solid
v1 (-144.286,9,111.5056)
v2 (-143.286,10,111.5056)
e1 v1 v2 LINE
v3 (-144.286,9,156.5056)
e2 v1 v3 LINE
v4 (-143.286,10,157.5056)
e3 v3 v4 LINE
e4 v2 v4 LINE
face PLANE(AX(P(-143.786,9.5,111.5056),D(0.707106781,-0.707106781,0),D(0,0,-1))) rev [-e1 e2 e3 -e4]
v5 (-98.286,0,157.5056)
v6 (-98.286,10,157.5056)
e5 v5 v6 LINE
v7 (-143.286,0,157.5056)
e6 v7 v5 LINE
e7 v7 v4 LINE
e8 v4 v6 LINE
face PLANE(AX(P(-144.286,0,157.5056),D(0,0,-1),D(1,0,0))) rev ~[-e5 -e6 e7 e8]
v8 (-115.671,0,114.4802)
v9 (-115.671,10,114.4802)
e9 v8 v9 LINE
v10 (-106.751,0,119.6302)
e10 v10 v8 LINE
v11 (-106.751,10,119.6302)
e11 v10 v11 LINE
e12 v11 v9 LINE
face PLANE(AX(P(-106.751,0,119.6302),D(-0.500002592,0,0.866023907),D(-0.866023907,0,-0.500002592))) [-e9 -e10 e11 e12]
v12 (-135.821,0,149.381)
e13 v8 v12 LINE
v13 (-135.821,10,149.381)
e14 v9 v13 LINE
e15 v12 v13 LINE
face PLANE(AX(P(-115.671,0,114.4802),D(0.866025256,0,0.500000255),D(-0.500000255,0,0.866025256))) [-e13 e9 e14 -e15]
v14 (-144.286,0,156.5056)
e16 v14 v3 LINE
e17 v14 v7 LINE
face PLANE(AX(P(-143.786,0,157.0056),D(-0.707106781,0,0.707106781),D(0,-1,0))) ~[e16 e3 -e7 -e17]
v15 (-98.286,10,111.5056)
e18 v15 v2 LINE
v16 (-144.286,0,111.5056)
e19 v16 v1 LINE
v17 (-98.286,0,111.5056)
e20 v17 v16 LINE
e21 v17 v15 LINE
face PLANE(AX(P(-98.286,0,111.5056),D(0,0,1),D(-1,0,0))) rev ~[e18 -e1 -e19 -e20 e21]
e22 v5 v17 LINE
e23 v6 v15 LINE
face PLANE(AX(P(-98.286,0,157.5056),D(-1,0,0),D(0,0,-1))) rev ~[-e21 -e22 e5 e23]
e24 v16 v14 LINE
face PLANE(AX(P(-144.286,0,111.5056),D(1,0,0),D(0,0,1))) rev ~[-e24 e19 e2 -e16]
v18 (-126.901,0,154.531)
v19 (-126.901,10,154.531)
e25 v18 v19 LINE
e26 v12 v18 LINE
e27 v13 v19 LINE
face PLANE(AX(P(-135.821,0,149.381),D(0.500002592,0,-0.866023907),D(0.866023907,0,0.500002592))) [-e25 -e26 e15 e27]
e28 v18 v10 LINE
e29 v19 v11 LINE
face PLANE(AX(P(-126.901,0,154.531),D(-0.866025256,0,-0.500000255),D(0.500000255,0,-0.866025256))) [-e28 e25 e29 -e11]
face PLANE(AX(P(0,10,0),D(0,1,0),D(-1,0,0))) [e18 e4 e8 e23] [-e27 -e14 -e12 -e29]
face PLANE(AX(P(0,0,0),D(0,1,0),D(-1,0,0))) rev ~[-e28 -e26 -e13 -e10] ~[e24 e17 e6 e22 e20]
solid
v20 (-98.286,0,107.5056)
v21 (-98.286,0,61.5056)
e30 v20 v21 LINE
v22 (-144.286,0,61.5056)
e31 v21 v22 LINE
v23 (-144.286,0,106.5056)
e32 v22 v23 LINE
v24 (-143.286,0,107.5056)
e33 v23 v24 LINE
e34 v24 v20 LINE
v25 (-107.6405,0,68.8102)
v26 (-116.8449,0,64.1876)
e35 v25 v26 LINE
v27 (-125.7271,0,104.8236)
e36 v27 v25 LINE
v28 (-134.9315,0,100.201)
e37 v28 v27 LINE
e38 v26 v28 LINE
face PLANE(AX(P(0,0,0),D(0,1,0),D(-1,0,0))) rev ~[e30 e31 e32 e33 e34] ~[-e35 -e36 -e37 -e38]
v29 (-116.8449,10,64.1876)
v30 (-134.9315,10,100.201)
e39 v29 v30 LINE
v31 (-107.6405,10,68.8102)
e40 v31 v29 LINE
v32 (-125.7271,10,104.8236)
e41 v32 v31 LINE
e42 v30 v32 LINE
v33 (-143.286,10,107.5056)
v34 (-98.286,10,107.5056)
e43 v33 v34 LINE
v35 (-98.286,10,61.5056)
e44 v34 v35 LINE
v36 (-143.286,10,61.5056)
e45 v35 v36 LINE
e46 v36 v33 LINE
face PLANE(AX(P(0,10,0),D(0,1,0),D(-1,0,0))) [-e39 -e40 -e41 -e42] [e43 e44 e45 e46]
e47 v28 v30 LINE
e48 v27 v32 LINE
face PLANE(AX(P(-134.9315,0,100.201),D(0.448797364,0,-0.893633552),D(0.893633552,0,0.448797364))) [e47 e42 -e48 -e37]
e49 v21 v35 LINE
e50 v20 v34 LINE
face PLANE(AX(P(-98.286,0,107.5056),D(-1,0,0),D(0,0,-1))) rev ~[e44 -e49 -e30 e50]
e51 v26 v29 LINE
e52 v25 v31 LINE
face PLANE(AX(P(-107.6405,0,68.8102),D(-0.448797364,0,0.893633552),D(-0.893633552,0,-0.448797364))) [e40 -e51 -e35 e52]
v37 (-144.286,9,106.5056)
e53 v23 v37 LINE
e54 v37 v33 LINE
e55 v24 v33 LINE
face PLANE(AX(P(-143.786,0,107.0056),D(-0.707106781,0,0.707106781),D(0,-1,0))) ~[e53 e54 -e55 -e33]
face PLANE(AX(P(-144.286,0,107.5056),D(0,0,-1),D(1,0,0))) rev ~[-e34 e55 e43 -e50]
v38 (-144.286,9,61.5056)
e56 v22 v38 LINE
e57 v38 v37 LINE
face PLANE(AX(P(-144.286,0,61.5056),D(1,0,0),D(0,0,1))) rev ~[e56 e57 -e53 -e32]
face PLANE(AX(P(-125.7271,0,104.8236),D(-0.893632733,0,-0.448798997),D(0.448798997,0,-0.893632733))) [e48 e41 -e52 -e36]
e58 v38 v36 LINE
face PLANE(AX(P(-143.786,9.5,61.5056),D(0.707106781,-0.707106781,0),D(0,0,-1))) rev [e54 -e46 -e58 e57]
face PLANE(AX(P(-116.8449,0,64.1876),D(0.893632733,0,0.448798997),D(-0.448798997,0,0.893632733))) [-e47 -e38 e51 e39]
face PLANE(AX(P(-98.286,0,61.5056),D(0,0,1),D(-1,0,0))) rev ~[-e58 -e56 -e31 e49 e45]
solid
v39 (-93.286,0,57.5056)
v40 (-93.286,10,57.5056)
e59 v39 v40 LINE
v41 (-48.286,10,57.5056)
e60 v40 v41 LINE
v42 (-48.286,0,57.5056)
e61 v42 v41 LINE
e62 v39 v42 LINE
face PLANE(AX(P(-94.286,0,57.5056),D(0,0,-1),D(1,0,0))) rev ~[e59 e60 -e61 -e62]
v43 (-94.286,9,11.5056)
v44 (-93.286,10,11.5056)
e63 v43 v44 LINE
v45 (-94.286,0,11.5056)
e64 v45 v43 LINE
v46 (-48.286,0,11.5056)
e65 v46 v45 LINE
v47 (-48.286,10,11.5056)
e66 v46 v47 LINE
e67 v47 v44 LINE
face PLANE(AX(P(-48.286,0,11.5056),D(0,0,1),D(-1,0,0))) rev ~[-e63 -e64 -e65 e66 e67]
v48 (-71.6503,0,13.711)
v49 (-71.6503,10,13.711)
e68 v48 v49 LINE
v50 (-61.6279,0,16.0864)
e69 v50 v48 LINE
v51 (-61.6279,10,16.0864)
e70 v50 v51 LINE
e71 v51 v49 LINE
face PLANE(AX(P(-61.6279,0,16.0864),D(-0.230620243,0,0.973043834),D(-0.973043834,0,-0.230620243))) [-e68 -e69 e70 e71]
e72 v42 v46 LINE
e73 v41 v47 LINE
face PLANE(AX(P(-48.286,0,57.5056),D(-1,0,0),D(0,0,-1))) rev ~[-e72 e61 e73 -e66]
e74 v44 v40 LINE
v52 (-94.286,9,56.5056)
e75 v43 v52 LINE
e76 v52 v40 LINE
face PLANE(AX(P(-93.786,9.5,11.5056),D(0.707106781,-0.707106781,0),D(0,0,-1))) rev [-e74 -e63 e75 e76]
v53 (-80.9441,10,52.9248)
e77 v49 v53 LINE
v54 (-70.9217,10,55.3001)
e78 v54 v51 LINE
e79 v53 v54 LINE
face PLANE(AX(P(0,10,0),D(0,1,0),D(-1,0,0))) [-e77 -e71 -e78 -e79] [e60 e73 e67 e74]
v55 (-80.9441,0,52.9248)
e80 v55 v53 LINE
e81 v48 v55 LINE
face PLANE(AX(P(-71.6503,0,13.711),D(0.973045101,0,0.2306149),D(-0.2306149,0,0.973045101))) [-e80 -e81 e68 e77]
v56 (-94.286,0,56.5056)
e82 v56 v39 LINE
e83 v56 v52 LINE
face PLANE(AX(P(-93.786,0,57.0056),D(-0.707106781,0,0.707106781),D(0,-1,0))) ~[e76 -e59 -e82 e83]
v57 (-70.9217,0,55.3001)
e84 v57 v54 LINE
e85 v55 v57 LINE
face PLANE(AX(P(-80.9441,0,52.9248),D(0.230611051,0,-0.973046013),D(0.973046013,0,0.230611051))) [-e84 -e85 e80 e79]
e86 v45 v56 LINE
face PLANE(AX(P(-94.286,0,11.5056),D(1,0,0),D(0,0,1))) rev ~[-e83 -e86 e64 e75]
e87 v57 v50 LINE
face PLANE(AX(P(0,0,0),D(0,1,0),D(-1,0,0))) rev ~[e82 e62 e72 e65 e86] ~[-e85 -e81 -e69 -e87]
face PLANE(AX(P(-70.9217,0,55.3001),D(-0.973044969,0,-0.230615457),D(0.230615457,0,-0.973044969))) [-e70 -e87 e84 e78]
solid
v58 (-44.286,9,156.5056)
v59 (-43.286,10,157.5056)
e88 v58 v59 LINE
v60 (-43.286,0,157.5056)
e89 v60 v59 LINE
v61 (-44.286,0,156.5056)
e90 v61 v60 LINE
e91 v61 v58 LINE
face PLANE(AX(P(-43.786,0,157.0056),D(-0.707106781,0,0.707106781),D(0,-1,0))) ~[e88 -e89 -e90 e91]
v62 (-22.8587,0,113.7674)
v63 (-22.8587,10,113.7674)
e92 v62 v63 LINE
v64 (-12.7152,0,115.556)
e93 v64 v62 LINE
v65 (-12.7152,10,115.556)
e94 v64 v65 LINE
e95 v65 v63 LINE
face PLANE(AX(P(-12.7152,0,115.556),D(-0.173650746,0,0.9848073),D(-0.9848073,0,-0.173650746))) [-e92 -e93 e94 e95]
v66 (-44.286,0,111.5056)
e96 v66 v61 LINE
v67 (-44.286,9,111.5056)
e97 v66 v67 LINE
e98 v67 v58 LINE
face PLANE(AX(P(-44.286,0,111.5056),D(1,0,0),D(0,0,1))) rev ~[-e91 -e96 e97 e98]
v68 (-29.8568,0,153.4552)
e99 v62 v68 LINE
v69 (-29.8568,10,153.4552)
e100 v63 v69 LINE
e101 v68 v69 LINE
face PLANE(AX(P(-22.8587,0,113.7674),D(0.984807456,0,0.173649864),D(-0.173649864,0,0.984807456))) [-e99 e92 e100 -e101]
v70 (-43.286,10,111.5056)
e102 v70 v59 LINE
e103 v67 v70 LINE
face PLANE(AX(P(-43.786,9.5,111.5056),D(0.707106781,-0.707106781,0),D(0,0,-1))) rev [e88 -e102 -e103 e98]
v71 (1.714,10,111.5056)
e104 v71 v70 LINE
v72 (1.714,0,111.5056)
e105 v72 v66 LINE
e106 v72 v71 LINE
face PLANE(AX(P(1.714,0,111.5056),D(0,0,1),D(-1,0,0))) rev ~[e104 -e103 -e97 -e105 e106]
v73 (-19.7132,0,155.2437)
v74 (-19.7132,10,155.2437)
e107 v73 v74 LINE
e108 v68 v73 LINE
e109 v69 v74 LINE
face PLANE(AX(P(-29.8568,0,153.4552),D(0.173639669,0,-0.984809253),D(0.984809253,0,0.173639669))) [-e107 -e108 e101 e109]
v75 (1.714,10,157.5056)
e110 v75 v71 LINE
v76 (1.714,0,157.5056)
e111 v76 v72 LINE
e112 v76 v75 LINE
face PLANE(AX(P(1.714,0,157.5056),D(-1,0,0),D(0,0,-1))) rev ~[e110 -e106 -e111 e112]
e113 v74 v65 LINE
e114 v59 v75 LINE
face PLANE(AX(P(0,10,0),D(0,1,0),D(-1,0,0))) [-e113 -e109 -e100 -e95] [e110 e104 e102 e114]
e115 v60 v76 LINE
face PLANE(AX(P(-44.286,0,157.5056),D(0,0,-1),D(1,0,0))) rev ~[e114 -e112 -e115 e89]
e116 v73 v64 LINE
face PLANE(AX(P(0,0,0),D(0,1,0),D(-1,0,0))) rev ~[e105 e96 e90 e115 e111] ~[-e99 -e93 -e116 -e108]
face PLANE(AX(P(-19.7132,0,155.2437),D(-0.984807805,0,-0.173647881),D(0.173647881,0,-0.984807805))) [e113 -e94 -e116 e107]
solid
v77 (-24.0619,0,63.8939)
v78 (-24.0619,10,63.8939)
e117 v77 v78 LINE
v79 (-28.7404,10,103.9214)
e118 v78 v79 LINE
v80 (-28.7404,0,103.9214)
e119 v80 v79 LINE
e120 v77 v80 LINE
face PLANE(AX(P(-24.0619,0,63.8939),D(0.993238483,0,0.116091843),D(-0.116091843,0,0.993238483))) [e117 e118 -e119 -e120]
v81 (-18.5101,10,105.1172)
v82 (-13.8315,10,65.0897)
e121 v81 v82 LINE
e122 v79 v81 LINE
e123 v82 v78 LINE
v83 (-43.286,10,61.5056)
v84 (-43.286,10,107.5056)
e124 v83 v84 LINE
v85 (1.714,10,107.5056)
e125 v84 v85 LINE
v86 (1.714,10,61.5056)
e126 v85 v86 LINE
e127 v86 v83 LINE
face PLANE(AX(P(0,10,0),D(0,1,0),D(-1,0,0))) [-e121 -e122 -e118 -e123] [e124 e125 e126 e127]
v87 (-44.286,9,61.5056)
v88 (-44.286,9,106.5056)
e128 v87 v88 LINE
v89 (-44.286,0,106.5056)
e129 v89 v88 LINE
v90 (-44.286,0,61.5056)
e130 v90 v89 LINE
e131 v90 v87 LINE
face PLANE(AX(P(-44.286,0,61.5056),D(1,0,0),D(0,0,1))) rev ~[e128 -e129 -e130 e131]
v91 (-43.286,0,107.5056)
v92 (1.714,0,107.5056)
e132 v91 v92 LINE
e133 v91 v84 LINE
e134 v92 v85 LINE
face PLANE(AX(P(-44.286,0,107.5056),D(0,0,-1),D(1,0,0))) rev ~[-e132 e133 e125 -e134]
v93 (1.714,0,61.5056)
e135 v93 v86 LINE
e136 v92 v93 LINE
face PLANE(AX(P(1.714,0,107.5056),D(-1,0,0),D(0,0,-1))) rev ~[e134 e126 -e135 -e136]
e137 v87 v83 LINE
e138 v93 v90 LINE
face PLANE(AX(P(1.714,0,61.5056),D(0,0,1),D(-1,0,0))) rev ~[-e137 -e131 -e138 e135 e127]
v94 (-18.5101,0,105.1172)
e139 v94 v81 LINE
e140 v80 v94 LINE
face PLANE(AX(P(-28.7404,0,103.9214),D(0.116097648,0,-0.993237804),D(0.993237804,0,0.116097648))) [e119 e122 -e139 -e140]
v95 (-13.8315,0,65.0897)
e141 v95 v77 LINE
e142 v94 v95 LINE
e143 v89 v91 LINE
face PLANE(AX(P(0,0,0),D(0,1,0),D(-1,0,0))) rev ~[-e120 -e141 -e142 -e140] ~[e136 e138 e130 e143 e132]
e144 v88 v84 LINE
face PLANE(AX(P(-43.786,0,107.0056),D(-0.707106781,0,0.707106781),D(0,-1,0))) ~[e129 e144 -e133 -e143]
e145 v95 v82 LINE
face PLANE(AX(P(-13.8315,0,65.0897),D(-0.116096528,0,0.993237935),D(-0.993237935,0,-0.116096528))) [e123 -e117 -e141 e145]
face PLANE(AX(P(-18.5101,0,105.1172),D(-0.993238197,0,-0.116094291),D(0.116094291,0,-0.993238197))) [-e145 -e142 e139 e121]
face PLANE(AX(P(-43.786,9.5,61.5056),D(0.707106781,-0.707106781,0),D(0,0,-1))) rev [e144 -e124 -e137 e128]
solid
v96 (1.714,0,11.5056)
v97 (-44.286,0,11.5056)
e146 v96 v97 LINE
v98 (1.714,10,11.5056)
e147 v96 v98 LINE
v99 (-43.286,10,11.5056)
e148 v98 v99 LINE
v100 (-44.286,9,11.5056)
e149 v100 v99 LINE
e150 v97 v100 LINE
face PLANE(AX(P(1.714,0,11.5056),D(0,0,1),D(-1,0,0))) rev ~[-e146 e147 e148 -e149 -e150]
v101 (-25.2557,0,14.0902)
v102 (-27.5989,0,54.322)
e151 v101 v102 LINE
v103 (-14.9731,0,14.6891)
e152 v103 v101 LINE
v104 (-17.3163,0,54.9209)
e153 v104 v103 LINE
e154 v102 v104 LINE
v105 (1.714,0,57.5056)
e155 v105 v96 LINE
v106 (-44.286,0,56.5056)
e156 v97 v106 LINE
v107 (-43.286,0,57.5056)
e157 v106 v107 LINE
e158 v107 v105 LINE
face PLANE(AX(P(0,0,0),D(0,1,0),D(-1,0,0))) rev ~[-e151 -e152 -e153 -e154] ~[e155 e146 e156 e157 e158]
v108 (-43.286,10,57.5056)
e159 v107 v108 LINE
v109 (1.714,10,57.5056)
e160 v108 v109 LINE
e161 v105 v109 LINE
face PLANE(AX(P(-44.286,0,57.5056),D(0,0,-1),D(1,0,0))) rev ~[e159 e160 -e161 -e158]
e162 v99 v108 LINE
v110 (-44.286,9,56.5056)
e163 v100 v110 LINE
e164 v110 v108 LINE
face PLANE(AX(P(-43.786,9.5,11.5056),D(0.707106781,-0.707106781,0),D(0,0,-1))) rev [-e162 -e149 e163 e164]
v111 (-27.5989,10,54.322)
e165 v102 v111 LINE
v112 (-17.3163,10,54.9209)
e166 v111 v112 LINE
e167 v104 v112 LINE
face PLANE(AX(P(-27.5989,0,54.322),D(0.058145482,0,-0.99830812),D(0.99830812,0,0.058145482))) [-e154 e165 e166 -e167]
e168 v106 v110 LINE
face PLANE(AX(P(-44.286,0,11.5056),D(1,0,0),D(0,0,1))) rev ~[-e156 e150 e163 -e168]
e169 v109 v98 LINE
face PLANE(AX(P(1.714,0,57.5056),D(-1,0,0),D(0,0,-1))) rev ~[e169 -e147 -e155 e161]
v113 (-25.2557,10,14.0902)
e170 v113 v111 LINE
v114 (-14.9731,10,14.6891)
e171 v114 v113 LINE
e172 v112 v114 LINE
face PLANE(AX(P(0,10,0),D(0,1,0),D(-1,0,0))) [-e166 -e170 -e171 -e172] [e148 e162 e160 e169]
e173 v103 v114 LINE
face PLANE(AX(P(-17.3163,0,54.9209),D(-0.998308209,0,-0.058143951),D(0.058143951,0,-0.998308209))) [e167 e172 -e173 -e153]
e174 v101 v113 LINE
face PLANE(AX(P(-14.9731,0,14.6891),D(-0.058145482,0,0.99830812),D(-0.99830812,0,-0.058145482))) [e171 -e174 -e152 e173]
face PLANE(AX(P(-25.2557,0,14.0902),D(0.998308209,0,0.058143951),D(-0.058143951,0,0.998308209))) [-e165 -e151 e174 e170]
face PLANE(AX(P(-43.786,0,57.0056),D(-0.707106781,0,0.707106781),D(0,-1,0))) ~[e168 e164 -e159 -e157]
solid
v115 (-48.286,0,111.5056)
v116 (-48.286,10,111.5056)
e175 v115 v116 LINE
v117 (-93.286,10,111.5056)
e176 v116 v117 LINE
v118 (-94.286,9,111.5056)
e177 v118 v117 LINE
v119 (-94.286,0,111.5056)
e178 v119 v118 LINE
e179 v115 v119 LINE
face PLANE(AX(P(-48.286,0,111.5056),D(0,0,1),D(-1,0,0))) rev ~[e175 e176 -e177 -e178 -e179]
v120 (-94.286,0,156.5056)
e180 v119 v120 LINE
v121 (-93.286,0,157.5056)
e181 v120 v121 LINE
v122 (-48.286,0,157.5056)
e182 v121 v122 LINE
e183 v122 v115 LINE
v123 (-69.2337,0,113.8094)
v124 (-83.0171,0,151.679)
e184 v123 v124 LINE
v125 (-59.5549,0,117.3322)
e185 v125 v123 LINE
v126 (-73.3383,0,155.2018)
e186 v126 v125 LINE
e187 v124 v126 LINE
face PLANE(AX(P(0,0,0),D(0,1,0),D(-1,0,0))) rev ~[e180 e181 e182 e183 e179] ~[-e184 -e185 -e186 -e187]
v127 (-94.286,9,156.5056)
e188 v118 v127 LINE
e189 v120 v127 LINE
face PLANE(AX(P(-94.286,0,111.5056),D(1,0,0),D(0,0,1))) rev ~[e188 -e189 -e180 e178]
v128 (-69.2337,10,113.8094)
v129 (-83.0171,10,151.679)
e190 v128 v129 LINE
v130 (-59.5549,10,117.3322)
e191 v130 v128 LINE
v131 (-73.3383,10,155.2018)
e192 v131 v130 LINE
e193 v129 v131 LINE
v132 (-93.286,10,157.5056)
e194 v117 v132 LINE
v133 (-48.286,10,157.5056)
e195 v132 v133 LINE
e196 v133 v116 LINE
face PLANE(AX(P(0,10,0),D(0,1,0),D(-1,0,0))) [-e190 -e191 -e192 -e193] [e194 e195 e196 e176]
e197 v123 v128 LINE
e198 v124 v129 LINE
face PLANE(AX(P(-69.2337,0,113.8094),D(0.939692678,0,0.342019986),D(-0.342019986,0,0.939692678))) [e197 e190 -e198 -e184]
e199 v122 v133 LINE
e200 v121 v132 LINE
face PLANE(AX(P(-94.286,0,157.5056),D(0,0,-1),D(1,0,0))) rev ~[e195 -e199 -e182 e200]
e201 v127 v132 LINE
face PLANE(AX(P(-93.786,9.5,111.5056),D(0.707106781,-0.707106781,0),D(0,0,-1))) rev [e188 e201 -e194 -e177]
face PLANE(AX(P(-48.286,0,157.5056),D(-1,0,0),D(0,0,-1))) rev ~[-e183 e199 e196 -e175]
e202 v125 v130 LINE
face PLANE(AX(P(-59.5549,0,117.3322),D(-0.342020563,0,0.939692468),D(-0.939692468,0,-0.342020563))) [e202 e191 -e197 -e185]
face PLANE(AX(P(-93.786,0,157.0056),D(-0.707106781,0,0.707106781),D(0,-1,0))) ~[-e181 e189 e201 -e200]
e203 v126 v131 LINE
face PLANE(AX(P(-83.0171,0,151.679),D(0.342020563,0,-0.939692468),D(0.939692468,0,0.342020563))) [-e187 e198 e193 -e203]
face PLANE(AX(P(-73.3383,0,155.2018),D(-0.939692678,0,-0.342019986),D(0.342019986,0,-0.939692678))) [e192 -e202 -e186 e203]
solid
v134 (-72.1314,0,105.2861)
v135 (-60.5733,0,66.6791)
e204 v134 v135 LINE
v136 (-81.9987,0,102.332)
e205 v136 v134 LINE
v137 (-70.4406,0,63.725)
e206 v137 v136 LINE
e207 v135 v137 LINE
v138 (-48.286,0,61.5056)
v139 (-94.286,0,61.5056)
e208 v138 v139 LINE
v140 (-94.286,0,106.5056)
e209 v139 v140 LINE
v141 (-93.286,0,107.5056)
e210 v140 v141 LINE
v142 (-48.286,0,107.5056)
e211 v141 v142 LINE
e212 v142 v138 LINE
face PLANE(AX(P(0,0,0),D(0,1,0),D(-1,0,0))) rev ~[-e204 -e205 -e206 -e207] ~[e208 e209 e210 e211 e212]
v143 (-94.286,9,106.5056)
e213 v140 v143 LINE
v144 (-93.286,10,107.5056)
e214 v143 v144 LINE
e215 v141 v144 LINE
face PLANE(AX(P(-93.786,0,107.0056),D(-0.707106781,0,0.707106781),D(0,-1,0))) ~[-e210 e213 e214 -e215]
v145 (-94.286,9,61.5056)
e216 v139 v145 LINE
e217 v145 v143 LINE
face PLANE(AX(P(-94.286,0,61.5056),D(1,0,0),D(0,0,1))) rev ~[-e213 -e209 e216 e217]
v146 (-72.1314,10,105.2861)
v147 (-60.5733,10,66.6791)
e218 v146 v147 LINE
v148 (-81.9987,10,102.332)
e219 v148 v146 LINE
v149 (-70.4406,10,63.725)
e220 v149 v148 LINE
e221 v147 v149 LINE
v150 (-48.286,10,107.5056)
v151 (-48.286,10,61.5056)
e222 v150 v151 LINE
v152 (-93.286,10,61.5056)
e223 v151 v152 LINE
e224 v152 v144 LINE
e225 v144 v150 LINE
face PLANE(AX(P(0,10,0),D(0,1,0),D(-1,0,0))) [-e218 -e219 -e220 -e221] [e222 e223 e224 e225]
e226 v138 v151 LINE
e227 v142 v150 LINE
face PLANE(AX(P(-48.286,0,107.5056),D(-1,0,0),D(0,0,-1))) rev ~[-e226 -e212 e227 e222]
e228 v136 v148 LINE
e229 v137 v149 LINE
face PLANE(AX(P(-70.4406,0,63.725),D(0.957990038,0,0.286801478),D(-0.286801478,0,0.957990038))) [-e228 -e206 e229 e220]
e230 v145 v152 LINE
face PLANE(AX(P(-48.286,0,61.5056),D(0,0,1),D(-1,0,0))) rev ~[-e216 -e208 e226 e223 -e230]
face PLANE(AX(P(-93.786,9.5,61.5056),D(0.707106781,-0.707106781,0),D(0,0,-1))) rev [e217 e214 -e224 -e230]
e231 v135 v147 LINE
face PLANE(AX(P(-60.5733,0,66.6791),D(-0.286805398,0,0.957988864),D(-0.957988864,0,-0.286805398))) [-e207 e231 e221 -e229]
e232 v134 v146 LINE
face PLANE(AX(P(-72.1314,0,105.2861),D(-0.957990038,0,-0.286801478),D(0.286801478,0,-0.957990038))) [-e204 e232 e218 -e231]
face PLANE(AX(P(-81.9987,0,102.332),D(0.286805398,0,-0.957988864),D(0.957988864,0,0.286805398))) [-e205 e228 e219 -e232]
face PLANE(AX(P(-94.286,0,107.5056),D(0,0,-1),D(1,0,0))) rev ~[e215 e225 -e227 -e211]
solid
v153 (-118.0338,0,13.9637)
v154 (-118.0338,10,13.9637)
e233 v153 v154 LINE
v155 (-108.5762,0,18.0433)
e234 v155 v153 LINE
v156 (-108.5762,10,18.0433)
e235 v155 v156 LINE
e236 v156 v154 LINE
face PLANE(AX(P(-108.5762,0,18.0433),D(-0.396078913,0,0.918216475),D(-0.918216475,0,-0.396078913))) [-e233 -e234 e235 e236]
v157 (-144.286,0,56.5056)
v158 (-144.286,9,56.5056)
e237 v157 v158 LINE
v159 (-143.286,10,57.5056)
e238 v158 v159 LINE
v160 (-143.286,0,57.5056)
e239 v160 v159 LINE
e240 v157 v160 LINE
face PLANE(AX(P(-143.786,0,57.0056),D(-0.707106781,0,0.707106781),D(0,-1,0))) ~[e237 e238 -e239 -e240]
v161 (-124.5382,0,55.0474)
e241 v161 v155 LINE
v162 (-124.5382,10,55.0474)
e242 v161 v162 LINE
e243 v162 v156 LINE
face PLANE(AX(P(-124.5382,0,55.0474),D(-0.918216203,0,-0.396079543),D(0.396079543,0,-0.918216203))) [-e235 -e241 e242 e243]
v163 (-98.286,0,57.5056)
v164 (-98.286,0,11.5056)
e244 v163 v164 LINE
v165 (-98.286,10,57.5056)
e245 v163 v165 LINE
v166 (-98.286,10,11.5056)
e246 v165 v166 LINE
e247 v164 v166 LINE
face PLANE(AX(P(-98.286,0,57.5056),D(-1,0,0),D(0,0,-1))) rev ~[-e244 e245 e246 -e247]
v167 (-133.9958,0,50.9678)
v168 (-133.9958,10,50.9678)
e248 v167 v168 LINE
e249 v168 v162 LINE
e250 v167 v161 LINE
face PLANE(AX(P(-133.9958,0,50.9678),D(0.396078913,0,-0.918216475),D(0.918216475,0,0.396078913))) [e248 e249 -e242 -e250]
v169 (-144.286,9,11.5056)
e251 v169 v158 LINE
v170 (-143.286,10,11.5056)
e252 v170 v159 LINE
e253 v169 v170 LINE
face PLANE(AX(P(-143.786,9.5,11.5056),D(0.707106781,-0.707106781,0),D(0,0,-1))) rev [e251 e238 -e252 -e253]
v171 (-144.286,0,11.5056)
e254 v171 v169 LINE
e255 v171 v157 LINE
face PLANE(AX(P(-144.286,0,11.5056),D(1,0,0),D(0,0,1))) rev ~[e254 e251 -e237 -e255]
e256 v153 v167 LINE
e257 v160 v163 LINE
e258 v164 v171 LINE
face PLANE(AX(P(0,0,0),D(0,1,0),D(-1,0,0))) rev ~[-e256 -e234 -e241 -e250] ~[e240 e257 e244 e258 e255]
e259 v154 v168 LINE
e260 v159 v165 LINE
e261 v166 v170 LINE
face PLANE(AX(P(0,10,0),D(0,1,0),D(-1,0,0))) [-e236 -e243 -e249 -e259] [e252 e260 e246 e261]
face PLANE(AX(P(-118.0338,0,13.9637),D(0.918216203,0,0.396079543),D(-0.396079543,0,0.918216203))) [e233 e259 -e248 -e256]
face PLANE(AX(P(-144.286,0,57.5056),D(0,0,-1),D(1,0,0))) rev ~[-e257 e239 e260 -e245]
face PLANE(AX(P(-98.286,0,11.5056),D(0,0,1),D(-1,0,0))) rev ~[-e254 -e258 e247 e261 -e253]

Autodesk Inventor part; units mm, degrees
ref_plane "YZ Plane" through (0, 0, 0) normal (1, 0, 0) x (0, 1, 0)
ref_plane "XZ Plane" through (0, 0, 0) normal (0, 1, 0) x (-1, 0, 0)
ref_plane "XY Plane" through (0, 0, 0) normal (0, 0, 1) x (1, 0, 0)
sketch "Sketch1" plane through (0, 0, 0) normal (0, 1, 0) x (-1, 0, 0)
  line L0 (44.286, 57.5056) -> (-1.714, 57.5056)
  line L1 (-1.714, 57.5056) -> (-1.714, 11.5056)
  line L2 (-1.714, 11.5056) -> (44.286, 11.5056)
  line L3 (44.286, 11.5056) -> (44.286, 57.5056)
  line L4 (21.286, 57.5056) -> (21.286, 11.5056) construction
  line L5 (44.286, 34.5056) -> (-1.714, 34.5056) construction
  line L6 (22.4284, 54.1191) -> (21.286, 34.5056) construction
  line L7 (21.286, 34.5056) -> (11.1489, 35.096) construction
  line L8 (27.5989, 54.322) -> (17.3163, 54.9209)
  line L9 (17.3163, 54.9209) -> (14.9731, 14.6891)
  line L10 (14.9731, 14.6891) -> (25.2557, 14.0902)
  line L11 (25.2557, 14.0902) -> (27.5989, 54.322)
  line L12 (94.286, 57.5056) -> (48.286, 57.5056)
  line L13 (48.286, 57.5056) -> (48.286, 11.5056)
  line L14 (48.286, 11.5056) -> (94.286, 11.5056)
  line L15 (94.286, 11.5056) -> (94.286, 57.5056)
  line L16 (71.286, 57.5056) -> (71.286, 11.5056) construction
  line L17 (94.286, 34.5056) -> (48.286, 34.5056) construction
  line L18 (75.8169, 53.6228) -> (71.286, 34.5056) construction
  line L19 (71.286, 34.5056) -> (61.4055, 36.8473) construction
  line L20 (80.9441, 52.9248) -> (70.9217, 55.3001)
  line L21 (70.9217, 55.3001) -> (61.6279, 16.0864)
  line L22 (61.6279, 16.0864) -> (71.6503, 13.711)
  line L23 (71.6503, 13.711) -> (80.9441, 52.9248)
  line L24 (144.286, 57.5056) -> (98.286, 57.5056)
  line L25 (98.286, 57.5056) -> (98.286, 11.5056)
  line L26 (98.286, 11.5056) -> (144.286, 11.5056)
  line L27 (144.286, 11.5056) -> (144.286, 57.5056)
  line L28 (121.286, 57.5056) -> (121.286, 11.5056) construction
  line L29 (144.286, 34.5056) -> (98.286, 34.5056) construction
  line L30 (129.0677, 52.5456) -> (121.286, 34.5056) construction
  line L31 (121.286, 34.5056) -> (111.9622, 38.5275) construction
  line L32 (133.9958, 50.9678) -> (124.5382, 55.0474)
  line L33 (124.5382, 55.0474) -> (108.5762, 18.0433)
  line L34 (108.5762, 18.0433) -> (118.0338, 13.9637)
  line L35 (118.0338, 13.9637) -> (133.9958, 50.9678)
  line L36 (44.286, 107.5056) -> (-1.714, 107.5056)
  line L37 (-1.714, 107.5056) -> (-1.714, 61.5056)
  line L38 (-1.714, 61.5056) -> (44.286, 61.5056)
  line L39 (44.286, 61.5056) -> (44.286, 107.5056)
  line L40 (21.286, 107.5056) -> (21.286, 61.5056) construction
  line L41 (44.286, 84.5056) -> (-1.714, 84.5056) construction
  line L42 (23.5669, 104.0195) -> (21.286, 84.5056) construction
  line L43 (21.286, 84.5056) -> (11.2004, 85.6844) construction
  line L44 (28.7404, 103.9214) -> (18.5101, 105.1172)
  line L45 (18.5101, 105.1172) -> (13.8315, 65.0897)
  line L46 (13.8315, 65.0897) -> (24.0619, 63.8939)
  line L47 (24.0619, 63.8939) -> (28.7404, 103.9214)
  line L48 (44.286, 157.5056) -> (-1.714, 157.5056)
  line L49 (-1.714, 157.5056) -> (-1.714, 111.5056)
  line L50 (-1.714, 111.5056) -> (44.286, 111.5056)
  line L51 (44.286, 111.5056) -> (44.286, 157.5056)
  line L52 (21.286, 157.5056) -> (21.286, 111.5056) construction
  line L53 (44.286, 134.5056) -> (-1.714, 134.5056) construction
  line L54 (24.6976, 153.8539) -> (21.286, 134.5056) construction
  line L55 (21.286, 134.5056) -> (11.286, 136.2688) construction
  line L56 (29.8568, 153.4552) -> (19.7132, 155.2437)
  line L57 (19.7132, 155.2437) -> (12.7152, 115.556)
  line L58 (12.7152, 115.556) -> (22.8587, 113.7674)
  line L59 (22.8587, 113.7674) -> (29.8568, 153.4552)
  line L60 (94.286, 107.5056) -> (48.286, 107.5056)
  line L61 (48.286, 107.5056) -> (48.286, 61.5056)
  line L62 (48.286, 61.5056) -> (94.286, 61.5056)
  line L63 (94.286, 61.5056) -> (94.286, 107.5056)
  line L64 (71.286, 107.5056) -> (71.286, 61.5056) construction
  line L65 (94.286, 84.5056) -> (48.286, 84.5056) construction
  line L66 (76.9208, 103.327) -> (71.286, 84.5056) construction
  line L67 (71.286, 84.5056) -> (61.5583, 87.4178) construction
  line L68 (81.9987, 102.332) -> (72.1314, 105.2861)
  line L69 (72.1314, 105.2861) -> (60.5733, 66.6791)
  line L70 (60.5733, 66.6791) -> (70.4406, 63.725)
  line L71 (70.4406, 63.725) -> (81.9987, 102.332)
  line L72 (94.286, 157.5056) -> (48.286, 157.5056)
  line L73 (48.286, 157.5056) -> (48.286, 111.5056)
  line L74 (48.286, 111.5056) -> (94.286, 111.5056)
  line L75 (94.286, 111.5056) -> (94.286, 157.5056)
  line L76 (71.286, 157.5056) -> (71.286, 111.5056) construction
  line L77 (94.286, 134.5056) -> (48.286, 134.5056) construction
  line L78 (78.0056, 152.9675) -> (71.286, 134.5056) construction
  line L79 (71.286, 134.5056) -> (61.7441, 137.9785) construction
  line L80 (83.0171, 151.679) -> (73.3383, 155.2018)
  line L81 (73.3383, 155.2018) -> (59.5549, 117.3322)
  line L82 (59.5549, 117.3322) -> (69.2337, 113.8094)
  line L83 (69.2337, 113.8094) -> (83.0171, 151.679)
  line L84 (144.286, 107.5056) -> (98.286, 107.5056)
  line L85 (98.286, 107.5056) -> (98.286, 61.5056)
  line L86 (98.286, 61.5056) -> (144.286, 61.5056)
  line L87 (144.286, 61.5056) -> (144.286, 107.5056)
  line L88 (121.286, 107.5056) -> (121.286, 61.5056) construction
  line L89 (144.286, 84.5056) -> (98.286, 84.5056) construction
  line L90 (130.1035, 102.0626) -> (121.286, 84.5056) construction
  line L91 (121.286, 84.5056) -> (112.2118, 89.0628) construction
  line L92 (134.9315, 100.201) -> (125.7271, 104.8236)
  line L93 (125.7271, 104.8236) -> (107.6405, 68.8102)
  line L94 (107.6405, 68.8102) -> (116.8449, 64.1876)
  line L95 (116.8449, 64.1876) -> (134.9315, 100.201)
  line L96 (144.286, 157.5056) -> (98.286, 157.5056)
  line L97 (98.286, 157.5056) -> (98.286, 111.5056)
  line L98 (98.286, 111.5056) -> (144.286, 111.5056)
  line L99 (144.286, 111.5056) -> (144.286, 157.5056)
  line L100 (121.286, 157.5056) -> (121.286, 111.5056) construction
  line L101 (144.286, 134.5056) -> (98.286, 134.5056) construction
  line L102 (131.1094, 151.5202) -> (121.286, 134.5056) construction
  line L103 (121.286, 134.5056) -> (112.4922, 139.5827) construction
  line L104 (135.821, 149.381) -> (126.901, 154.531)
  line L105 (126.901, 154.531) -> (106.751, 119.6302)
  line L106 (106.751, 119.6302) -> (115.671, 114.4802)
  line L107 (115.671, 114.4802) -> (135.821, 149.381)
  dimension "w" = 46
  dimension "d65" = 46
  dimension "d" = 10.3
  dimension "d67" = 40.3
  dimension "d68" = 86.667
  dimension "d69" = 46
  dimension "d70" = 46
  dimension "d71" = 10.3
  dimension "d72" = 40.3
  dimension "d73" = 76.667
  dimension "d76" = 46
  dimension "d77" = 46
  dimension "d78" = 10.3
  dimension "d79" = 40.3
  dimension "d80" = 66.667
  dimension "d83" = 46
  dimension "d84" = 46
  dimension "d85" = 10.3
  dimension "d86" = 40.3
  dimension "d87" = 83.333
  dimension "d90" = 46
  dimension "d91" = 46
  dimension "d92" = 10.3
  dimension "d93" = 40.3
  dimension "d94" = 80
  dimension "d97" = 46
  dimension "d98" = 46
  dimension "d99" = 10.3
  dimension "d100" = 40.3
  dimension "d101" = 73.333
  dimension "d104" = 46
  dimension "d105" = 46
  dimension "d106" = 10.3
  dimension "d107" = 40.3
  dimension "d108" = 70
  dimension "d111" = 46
  dimension "d112" = 46
  dimension "d113" = 10.3
  dimension "d114" = 40.3
  dimension "d115" = 63.333
  dimension "d118" = 46
  dimension "d119" = 46
  dimension "d120" = 10.3
  dimension "d121" = 40.3
  dimension "d122" = 60
extrude "Extrusion1" add sketch "Sketch1" along normal blind 10
chamfer "Chamfer1" distance 1 angle 45 18 edges at (-144.286, 10, 134.5056) (-144.286, 10, 84.5056) (-144.286, 10, 34.5056) (-94.286, 10, 134.5056) (-94.286, 10, 84.5056) (-94.286, 10, 34.5056) (-44.286, 10, 34.5056) (-44.286, 10, 84.5056) (-44.286, 10, 134.5056) (-144.286, 5, 157.5056) (-144.286, 5, 107.5056) (-144.286, 5, 57.5056) (-94.286, 5, 157.5056) (-94.286, 5, 107.5056) (-94.286, 5, 57.5056) (-44.286, 5, 157.5056) (-44.286, 5, 107.5056) (-44.286, 5, 57.5056)
equation "\"d68\" = a0 + 8 * ad"
equation "\"d73\" = a0 + 5 * ad"
equation "\"d80\" = a0 + 2 * ad"
equation "\"d87\" = a0 + 7 * ad"
equation "\"d94\" = a0 + 6 * ad"
equation "\"d101\" = a0 + 4 * ad"
equation "\"d108\" = a0 + 3 * ad"
equation "\"d115\" = a0 + ad"
equation "\"d122\" = a0 + 0 * ad"
equation "\"ad\" = 3.33333deg"
equation "\"d74\" = 0 * d75"
equation "\"d75\" = 3.333333deg"
equation "\"d81\" = 0 * d82"
equation "\"d82\" = 3.333333deg"
equation "\"d88\" = 0 * d89"
equation "\"d89\" = 3.333333deg"
equation "\"d95\" = 0 * d96"
equation "\"d96\" = 3.333333deg"
equation "\"d102\" = 0 * d103"
equation "\"d103\" = 3.333333deg"
equation "\"d109\" = 0 * d110"
equation "\"d110\" = 3.333333deg"
equation "\"d116\" = 0 * d117"
equation "\"d117\" = 3.333333deg"
equation "\"d123\" = 0 * d124"
equation "\"d124\" = 3.333333deg"
equation "\"a0\" = 60deg"
properties part number "magnet-54-offset-18"
